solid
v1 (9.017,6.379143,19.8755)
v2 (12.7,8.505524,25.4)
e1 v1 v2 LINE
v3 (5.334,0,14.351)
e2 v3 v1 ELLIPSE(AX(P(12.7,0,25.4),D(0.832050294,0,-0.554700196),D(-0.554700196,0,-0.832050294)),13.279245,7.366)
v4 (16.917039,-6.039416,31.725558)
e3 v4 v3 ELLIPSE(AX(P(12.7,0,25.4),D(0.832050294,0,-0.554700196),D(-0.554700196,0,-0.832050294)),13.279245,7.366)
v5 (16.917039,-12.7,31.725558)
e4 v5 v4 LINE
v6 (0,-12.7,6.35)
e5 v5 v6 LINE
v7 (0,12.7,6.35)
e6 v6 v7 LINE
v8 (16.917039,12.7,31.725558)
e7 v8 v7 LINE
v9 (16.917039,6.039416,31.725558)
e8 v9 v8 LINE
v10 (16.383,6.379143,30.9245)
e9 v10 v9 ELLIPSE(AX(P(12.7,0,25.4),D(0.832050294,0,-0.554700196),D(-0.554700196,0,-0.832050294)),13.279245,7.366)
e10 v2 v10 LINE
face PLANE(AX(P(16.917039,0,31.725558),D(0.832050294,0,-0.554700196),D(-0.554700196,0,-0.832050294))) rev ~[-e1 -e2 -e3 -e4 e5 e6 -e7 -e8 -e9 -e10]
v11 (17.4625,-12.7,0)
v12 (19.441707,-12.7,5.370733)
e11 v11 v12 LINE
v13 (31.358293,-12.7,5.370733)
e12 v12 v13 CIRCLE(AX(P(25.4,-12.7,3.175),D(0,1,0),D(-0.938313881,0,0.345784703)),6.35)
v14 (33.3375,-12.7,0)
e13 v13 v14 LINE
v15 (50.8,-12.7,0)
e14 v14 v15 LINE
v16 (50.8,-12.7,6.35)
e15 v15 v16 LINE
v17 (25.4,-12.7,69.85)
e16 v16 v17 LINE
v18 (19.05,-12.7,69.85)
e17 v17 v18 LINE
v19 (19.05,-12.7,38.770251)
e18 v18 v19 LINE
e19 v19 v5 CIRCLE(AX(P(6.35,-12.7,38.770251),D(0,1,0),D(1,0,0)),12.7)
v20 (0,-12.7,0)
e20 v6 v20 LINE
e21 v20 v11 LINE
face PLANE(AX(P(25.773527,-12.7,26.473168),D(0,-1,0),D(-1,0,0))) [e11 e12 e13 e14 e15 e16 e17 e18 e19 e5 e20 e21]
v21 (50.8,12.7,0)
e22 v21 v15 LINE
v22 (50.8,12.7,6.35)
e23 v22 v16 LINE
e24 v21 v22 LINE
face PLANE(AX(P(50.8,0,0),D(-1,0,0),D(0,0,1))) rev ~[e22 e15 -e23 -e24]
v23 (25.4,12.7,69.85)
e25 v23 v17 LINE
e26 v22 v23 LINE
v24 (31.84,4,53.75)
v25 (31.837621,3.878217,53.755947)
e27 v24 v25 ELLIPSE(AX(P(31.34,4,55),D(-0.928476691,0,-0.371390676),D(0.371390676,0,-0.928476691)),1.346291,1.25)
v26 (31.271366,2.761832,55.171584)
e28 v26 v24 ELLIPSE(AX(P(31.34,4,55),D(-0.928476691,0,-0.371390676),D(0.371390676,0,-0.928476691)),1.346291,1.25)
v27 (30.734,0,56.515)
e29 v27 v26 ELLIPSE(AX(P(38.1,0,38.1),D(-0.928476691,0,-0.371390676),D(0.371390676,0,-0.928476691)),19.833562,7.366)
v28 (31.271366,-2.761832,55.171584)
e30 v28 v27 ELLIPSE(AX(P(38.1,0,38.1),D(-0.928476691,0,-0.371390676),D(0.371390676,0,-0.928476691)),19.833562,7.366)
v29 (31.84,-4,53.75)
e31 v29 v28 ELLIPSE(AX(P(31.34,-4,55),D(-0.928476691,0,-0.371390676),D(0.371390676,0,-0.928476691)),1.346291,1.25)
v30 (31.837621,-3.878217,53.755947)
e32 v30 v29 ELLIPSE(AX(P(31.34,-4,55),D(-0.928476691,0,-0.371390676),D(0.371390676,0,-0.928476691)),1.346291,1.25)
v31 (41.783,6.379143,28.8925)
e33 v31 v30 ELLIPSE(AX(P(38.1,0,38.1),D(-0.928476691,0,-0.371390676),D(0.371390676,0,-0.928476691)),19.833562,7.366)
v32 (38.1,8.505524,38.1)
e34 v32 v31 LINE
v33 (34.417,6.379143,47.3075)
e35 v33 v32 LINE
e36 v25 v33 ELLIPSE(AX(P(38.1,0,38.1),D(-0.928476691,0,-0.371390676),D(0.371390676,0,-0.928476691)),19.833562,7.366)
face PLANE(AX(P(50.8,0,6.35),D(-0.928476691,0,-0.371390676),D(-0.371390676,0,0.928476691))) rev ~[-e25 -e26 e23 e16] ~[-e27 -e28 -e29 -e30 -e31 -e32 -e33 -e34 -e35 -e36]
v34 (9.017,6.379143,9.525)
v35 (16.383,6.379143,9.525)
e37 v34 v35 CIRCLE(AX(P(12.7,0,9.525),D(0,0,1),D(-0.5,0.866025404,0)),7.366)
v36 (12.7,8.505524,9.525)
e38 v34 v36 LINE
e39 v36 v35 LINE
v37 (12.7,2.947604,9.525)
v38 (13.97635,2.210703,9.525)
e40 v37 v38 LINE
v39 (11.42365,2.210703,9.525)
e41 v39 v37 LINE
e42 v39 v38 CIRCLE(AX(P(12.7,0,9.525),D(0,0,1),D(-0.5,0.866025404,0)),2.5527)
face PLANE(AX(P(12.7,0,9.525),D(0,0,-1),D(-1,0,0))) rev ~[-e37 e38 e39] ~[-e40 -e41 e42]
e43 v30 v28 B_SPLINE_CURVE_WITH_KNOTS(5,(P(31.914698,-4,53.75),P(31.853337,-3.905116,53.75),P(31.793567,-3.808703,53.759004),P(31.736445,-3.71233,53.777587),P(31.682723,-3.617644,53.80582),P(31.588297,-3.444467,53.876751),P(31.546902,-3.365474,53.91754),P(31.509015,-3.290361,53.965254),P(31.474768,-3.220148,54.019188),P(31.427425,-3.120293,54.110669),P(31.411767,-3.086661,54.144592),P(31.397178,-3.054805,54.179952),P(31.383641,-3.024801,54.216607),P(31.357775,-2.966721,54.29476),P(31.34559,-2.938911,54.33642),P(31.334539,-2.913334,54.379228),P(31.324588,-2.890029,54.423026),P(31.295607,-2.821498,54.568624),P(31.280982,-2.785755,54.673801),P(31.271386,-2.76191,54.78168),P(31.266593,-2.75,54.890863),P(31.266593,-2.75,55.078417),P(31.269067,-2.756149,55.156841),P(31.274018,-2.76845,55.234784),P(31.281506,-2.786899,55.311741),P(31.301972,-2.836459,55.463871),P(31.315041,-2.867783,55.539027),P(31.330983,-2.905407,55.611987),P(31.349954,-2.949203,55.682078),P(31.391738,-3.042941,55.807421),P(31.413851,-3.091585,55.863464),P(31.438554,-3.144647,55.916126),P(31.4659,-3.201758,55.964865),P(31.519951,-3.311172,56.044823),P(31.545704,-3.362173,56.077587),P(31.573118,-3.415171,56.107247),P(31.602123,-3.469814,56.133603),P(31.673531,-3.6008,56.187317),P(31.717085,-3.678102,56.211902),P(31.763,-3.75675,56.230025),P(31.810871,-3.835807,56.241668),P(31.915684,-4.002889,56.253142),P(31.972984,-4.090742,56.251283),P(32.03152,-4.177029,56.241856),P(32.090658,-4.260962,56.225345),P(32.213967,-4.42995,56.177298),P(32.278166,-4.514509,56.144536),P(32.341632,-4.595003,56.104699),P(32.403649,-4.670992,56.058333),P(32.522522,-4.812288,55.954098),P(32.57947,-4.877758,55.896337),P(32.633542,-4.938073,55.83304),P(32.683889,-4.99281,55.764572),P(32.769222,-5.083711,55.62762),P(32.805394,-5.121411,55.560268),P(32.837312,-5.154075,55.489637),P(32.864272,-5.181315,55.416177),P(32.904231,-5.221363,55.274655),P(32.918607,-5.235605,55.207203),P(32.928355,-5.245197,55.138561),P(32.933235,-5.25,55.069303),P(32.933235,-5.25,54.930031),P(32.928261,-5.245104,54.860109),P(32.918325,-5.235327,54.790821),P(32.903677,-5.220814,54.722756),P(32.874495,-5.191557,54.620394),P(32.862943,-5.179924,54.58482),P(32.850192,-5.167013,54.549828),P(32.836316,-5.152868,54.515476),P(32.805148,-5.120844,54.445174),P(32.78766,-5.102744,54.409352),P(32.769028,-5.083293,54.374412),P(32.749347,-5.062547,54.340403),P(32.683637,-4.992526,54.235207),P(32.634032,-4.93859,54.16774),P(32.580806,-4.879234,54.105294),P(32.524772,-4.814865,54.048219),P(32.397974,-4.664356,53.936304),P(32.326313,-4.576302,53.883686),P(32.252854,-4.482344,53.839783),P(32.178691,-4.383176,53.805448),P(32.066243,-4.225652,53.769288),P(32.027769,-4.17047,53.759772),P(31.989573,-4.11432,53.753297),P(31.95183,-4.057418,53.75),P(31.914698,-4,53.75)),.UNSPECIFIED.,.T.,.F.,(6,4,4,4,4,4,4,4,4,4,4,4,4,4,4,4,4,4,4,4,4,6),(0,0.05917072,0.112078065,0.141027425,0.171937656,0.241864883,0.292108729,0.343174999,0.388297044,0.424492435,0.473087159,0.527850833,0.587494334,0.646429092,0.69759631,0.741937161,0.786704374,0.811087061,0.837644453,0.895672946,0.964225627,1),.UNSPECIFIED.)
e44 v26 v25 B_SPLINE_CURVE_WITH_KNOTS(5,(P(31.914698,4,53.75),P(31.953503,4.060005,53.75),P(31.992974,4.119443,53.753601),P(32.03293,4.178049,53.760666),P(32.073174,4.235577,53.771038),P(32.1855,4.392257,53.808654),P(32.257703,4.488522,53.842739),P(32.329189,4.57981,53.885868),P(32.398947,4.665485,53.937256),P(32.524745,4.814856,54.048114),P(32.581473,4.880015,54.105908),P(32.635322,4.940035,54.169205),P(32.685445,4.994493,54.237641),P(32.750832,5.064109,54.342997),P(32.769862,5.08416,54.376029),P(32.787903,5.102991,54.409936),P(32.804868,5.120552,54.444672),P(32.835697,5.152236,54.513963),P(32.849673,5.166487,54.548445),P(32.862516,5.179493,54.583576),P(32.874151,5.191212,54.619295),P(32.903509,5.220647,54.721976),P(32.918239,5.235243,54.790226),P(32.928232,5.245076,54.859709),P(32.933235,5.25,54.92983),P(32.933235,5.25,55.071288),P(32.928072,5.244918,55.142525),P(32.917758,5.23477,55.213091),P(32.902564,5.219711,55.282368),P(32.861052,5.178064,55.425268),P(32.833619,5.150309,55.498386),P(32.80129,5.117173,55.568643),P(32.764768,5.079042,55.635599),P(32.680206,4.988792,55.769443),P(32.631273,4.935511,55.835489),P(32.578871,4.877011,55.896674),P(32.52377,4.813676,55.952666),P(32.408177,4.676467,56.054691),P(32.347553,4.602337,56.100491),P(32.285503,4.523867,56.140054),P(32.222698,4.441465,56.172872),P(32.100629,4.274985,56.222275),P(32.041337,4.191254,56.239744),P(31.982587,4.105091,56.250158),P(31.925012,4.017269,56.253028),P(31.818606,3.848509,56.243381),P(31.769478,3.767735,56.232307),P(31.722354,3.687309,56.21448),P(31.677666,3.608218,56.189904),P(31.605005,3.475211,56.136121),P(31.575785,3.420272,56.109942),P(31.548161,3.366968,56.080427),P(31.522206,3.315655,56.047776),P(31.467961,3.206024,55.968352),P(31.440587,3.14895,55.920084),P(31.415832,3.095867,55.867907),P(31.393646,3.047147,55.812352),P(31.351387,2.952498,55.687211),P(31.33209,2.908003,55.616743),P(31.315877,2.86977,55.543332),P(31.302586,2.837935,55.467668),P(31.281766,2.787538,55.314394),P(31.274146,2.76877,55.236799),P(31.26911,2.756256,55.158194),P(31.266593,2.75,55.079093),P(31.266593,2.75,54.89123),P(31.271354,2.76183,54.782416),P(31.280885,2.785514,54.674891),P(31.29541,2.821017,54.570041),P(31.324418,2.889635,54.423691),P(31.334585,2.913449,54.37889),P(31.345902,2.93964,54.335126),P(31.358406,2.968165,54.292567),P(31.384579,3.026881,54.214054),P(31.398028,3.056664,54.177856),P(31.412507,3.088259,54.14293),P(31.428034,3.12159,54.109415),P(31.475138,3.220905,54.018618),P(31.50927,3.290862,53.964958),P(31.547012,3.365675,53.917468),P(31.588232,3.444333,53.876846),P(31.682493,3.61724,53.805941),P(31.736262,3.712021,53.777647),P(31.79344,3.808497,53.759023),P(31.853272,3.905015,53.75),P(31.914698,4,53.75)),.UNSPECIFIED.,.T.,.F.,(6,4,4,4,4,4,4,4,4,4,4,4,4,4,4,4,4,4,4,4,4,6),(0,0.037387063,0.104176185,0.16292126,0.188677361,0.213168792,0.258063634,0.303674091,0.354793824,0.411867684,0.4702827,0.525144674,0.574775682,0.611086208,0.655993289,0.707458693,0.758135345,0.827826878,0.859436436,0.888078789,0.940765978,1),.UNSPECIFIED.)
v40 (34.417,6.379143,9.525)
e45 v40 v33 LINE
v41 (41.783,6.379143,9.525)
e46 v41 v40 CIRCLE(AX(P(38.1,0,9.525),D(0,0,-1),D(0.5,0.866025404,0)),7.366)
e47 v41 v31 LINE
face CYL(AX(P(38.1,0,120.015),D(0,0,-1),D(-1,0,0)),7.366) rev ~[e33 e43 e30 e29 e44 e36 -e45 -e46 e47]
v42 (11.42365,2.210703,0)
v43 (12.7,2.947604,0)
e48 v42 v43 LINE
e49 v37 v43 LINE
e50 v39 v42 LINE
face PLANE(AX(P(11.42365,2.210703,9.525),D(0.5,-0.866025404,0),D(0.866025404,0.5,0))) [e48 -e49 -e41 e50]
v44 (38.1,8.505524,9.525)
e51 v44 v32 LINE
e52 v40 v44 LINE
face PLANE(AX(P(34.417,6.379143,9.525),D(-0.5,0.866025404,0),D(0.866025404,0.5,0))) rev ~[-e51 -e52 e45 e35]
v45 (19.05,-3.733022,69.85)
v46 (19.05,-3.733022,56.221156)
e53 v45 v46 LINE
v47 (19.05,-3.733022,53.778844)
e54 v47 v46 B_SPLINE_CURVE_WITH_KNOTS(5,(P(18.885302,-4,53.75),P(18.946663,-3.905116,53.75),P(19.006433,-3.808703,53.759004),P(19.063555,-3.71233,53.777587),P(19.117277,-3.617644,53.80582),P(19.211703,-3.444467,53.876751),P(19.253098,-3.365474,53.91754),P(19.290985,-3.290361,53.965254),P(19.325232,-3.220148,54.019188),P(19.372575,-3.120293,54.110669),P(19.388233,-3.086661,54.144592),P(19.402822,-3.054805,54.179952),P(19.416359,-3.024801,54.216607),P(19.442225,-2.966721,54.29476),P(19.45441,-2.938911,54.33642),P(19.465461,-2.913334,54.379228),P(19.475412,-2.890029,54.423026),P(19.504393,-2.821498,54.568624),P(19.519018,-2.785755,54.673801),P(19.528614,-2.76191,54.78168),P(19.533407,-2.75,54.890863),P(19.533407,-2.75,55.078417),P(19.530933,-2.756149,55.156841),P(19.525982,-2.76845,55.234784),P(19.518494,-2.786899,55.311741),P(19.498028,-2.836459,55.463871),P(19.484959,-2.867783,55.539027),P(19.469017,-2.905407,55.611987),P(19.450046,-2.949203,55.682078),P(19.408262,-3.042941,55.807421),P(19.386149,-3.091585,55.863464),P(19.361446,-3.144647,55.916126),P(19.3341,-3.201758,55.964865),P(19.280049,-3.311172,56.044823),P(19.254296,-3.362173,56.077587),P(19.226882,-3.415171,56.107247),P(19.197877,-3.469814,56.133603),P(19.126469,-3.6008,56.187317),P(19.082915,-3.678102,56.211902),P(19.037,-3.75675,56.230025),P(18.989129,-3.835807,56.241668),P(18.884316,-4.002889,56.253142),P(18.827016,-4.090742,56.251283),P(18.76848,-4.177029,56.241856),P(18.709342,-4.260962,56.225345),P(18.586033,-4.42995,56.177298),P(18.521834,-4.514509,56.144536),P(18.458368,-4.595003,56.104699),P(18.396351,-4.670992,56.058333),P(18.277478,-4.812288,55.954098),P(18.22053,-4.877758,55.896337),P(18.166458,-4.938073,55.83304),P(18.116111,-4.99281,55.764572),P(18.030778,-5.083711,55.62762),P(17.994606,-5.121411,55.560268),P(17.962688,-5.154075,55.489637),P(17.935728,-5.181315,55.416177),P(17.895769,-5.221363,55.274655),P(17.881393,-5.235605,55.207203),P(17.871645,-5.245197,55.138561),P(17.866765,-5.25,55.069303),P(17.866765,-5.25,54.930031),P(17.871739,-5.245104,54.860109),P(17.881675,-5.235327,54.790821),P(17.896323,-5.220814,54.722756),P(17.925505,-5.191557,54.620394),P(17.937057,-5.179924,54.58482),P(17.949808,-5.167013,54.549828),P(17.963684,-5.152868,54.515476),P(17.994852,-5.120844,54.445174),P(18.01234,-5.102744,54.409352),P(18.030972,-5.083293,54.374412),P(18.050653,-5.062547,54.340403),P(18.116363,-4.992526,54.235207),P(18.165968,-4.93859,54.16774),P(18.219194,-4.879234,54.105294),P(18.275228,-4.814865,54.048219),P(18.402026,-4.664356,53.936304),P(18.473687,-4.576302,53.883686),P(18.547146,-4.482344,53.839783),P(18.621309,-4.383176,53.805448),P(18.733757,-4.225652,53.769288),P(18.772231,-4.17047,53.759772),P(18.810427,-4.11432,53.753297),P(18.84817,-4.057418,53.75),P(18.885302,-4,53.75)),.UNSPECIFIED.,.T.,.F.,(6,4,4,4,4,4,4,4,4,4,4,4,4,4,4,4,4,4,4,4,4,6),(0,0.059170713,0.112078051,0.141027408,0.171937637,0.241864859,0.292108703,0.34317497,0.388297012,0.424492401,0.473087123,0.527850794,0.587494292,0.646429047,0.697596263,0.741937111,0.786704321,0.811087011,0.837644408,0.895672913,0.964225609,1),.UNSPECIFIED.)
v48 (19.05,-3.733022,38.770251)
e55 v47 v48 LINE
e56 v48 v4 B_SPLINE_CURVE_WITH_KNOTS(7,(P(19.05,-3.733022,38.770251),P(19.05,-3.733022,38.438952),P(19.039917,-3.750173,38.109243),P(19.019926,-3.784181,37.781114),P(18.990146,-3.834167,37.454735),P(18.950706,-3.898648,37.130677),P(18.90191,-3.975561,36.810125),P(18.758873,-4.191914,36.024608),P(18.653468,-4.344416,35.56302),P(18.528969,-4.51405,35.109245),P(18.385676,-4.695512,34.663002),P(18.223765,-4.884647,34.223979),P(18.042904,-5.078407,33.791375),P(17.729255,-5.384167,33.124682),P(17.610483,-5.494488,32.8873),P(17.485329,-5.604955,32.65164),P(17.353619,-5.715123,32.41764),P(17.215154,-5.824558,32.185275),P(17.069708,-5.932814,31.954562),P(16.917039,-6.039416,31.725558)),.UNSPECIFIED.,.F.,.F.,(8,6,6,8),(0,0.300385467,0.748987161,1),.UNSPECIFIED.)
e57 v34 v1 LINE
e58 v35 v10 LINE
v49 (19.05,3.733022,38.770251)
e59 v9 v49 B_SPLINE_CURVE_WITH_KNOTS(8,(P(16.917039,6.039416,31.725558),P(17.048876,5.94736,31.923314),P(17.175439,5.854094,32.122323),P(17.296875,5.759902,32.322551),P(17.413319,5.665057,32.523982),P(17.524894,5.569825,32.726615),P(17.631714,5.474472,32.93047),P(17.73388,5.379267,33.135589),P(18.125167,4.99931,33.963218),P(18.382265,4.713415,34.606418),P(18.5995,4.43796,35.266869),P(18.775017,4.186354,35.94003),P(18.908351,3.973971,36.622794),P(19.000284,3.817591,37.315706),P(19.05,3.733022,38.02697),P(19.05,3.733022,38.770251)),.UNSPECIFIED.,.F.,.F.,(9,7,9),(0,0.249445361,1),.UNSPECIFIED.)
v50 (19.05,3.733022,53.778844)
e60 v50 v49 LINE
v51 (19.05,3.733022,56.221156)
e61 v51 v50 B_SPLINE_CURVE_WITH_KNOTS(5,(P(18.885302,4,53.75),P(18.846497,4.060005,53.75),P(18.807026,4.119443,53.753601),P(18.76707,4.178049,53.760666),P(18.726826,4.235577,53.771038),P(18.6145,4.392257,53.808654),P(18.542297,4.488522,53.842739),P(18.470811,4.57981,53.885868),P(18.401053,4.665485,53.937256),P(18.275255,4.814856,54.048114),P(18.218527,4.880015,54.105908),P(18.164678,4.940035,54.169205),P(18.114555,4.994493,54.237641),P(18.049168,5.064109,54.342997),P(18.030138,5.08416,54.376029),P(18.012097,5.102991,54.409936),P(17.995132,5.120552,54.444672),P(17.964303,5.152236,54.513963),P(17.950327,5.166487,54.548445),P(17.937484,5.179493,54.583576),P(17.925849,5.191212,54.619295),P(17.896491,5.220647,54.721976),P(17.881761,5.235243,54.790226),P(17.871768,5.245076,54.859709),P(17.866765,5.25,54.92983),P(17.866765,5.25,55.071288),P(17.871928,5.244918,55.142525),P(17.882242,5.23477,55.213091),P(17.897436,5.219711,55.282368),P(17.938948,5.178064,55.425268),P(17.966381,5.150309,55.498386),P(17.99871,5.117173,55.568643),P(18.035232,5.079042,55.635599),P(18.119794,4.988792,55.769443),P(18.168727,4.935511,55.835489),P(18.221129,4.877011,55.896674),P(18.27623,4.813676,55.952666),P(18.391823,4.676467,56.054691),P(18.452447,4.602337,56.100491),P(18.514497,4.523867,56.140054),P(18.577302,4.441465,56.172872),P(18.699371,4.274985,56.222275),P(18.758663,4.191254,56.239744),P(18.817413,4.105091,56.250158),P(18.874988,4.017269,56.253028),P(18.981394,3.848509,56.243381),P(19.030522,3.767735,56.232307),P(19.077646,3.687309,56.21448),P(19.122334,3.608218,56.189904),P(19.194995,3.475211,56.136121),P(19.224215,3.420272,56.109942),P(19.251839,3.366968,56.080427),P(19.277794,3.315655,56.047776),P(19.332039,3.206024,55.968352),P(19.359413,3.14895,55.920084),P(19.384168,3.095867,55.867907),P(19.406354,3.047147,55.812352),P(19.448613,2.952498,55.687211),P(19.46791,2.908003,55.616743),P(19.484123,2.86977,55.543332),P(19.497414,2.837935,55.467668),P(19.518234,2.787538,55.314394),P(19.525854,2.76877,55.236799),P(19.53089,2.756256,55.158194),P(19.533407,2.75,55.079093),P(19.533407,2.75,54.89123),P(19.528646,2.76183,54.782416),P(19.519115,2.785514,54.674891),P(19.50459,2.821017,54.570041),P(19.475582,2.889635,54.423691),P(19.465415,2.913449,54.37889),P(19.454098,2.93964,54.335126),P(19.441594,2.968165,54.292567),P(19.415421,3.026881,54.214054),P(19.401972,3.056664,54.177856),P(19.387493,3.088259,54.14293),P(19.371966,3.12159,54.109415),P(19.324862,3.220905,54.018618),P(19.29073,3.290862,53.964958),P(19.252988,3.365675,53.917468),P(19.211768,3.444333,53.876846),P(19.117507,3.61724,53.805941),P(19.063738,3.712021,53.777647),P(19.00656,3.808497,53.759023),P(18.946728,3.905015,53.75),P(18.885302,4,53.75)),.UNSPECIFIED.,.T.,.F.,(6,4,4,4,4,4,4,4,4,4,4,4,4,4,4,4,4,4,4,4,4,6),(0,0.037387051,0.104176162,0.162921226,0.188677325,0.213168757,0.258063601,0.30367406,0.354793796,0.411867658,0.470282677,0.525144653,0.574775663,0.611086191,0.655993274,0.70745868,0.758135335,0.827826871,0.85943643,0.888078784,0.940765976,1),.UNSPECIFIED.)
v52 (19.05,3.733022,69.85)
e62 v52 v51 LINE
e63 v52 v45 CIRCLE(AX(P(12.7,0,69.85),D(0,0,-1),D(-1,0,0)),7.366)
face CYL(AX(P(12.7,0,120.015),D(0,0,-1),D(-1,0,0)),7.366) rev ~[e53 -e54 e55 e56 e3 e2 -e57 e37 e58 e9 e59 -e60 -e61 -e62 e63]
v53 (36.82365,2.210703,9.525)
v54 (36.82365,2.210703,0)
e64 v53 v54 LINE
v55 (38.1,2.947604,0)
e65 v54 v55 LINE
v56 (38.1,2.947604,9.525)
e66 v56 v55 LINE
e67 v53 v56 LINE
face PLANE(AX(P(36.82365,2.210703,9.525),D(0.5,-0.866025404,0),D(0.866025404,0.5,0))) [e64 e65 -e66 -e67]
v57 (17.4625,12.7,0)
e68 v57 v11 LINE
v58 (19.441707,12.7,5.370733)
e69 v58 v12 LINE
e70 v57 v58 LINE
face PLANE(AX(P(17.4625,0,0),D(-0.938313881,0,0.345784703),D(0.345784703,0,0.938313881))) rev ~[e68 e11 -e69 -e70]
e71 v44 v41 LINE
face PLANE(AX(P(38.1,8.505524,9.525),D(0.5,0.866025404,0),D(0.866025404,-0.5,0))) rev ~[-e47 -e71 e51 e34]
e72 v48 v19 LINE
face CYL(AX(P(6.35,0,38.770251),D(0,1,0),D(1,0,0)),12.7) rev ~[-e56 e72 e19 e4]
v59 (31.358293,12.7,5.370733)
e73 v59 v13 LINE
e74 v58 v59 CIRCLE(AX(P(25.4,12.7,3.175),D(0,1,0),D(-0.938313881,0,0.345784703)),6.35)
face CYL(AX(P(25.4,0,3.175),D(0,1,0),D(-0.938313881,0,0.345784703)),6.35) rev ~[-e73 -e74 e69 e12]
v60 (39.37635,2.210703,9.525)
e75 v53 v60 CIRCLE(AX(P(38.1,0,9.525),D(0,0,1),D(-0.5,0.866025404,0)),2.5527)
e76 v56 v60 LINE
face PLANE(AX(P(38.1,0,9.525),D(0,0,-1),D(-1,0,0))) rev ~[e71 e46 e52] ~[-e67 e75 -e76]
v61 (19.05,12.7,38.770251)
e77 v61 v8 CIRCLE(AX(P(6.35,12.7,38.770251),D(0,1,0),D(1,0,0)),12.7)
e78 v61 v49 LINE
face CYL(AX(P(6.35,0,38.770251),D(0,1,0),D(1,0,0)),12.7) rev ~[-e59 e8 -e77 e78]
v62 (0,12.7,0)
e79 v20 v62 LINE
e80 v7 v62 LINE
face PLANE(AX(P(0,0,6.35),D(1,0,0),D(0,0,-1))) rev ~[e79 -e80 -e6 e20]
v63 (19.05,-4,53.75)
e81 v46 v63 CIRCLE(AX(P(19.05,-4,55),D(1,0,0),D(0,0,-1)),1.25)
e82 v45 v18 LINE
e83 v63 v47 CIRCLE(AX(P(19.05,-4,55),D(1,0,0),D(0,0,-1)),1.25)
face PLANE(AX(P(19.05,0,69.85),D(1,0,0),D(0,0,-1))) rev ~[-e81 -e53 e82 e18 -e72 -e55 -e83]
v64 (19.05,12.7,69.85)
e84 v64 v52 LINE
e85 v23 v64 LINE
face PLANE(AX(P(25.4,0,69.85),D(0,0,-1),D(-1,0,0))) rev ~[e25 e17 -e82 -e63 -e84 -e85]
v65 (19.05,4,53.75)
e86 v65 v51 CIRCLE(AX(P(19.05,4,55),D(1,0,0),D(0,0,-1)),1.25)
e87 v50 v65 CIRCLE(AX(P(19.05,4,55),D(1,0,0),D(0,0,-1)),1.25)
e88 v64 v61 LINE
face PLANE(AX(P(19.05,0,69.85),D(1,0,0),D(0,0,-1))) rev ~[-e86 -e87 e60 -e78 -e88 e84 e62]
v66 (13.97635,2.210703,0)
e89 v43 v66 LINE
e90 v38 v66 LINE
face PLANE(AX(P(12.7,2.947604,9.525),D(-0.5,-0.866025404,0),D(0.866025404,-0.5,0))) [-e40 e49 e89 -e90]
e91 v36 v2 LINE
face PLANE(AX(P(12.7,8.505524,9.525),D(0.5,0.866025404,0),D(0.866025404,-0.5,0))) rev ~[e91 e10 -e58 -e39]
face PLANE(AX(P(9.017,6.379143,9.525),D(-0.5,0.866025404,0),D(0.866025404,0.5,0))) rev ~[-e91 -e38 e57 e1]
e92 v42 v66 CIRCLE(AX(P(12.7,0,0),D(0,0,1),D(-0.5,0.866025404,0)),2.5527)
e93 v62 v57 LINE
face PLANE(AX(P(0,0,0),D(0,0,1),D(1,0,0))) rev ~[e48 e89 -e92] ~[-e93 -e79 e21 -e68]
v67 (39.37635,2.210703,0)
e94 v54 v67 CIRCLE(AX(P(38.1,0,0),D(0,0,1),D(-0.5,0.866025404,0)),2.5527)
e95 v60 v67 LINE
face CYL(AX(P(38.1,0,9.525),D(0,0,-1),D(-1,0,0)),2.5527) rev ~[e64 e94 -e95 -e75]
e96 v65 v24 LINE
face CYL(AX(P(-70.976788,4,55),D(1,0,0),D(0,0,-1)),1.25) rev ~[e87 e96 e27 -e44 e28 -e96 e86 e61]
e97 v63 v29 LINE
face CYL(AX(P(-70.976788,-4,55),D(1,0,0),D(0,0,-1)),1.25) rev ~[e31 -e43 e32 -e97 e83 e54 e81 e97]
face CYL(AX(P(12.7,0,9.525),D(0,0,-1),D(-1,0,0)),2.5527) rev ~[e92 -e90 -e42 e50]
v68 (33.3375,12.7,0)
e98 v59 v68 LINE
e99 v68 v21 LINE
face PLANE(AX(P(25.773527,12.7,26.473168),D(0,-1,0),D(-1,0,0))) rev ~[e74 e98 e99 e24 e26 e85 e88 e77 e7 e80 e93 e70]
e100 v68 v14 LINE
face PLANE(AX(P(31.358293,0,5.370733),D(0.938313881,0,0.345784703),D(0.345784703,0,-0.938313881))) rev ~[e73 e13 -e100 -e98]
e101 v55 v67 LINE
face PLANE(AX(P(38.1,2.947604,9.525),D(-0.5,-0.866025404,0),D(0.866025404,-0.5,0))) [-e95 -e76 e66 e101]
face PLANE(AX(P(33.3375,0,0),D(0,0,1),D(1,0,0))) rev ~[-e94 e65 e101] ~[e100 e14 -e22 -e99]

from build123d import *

# Parameters (mm, degrees)
BOSS_EXTRUDE1_DEPTH   = 12.7
CUT_EXTRUDE1_DEPTH    = 10.525
CUT_EXTRUDE2_DEPTH    = 61.3250001
LPATTERN1_COUNT       = 2
LPATTERN1_PITCH       = 25.4
M3X0_5_TAPPED_HOLE1_D = 2.5


with BuildPart() as part:
    # Sketch1 → Boss-Extrude1 (new body, symmetric)
    with BuildSketch(Plane(origin=(0, 0, 0), x_dir=(1, 0, 0), z_dir=(0, 1, 0))):
        with BuildLine():
            Line((0, 0), (17.4625, 0))
            Line((17.4625, 0), (19.441706855, -5.370732862))
            ThreePointArc((19.441706855, -5.370732862), (25.4, -9.525), (31.358293145, -5.370732862))
            Line((31.358293145, -5.370732862), (33.3375, 0))
            Line((33.3375, 0), (50.8, 0))
            Line((50.8, 0), (50.8, -6.35))
            Line((50.8, -6.35), (25.4, -69.85))
            Line((25.4, -69.85), (19.05, -69.85))
            Line((19.05, -69.85), (19.05, -38.770250599))
            ThreePointArc((19.05, -38.770250599), (18.505068736, -35.089991911), (16.917038738, -31.725558107))
            Line((16.917038738, -31.725558107), (0, -6.35))
            Line((0, -6.35), (0, 0))
        make_face()
    extrude(amount=BOSS_EXTRUDE1_DEPTH, both=True)

    # Sketch2 → Cut-Revolve1 (revolve, cut)
    with BuildSketch(Plane(origin=(0, 0, 0), x_dir=(1, 0, 0), z_dir=(0, 1, 0))):
        Polygon((12.7, 0), (12.7, -120.015), (5.334, -120.015), (5.334, -9.525), (10.1473, -9.525), (10.1473, 0), align=None)
    cut_revolve1 = revolve(axis=Axis((12.7, 0, 0), (0, 0, -1)), mode=Mode.SUBTRACT)

    # Sketch6 → Cut-Extrude1 (cut, through all)
    with BuildSketch(Plane.XY.offset(9.525)):
        with BuildLine():
            Line((11.42365, 2.210703048), (12.7, 2.947604064))
            Line((12.7, 2.947604064), (13.97635, 2.210703048))
            ThreePointArc((13.97635, 2.210703048), (12.7, 2.5527), (11.42365, 2.210703048))
        make_face()
    cut_extrude1 = extrude(amount=-CUT_EXTRUDE1_DEPTH, mode=Mode.SUBTRACT)

    # Sketch7 → Cut-Extrude2 (cut, through all)
    with BuildSketch(Plane.XY.offset(9.525)):
        with BuildLine():
            Line((9.017, 6.379143124), (12.7, 8.505524166))
            Line((12.7, 8.505524166), (16.383, 6.379143124))
            ThreePointArc((16.383, 6.379143124), (12.7, 7.366), (9.017, 6.379143124))
        make_face()
    cut_extrude2 = extrude(amount=CUT_EXTRUDE2_DEPTH, mode=Mode.SUBTRACT)

    # LPattern1: Cut-Revolve1, Cut-Extrude1, Cut-Extrude2 ×2
    with Locations(*[(i * LPATTERN1_PITCH, 0, 0) for i in range(1, LPATTERN1_COUNT)]):
        add(cut_revolve1, mode=Mode.SUBTRACT)
        add(cut_extrude1, mode=Mode.SUBTRACT)
        add(cut_extrude2, mode=Mode.SUBTRACT)

    # M3x0.5 Tapped Hole1 (through all)
    with Locations(Plane.ZY.offset(-19.05)):
        with Locations((55, 4), (55, -4)):
            Hole(M3X0_5_TAPPED_HOLE1_D / 2)


solid = part.part
